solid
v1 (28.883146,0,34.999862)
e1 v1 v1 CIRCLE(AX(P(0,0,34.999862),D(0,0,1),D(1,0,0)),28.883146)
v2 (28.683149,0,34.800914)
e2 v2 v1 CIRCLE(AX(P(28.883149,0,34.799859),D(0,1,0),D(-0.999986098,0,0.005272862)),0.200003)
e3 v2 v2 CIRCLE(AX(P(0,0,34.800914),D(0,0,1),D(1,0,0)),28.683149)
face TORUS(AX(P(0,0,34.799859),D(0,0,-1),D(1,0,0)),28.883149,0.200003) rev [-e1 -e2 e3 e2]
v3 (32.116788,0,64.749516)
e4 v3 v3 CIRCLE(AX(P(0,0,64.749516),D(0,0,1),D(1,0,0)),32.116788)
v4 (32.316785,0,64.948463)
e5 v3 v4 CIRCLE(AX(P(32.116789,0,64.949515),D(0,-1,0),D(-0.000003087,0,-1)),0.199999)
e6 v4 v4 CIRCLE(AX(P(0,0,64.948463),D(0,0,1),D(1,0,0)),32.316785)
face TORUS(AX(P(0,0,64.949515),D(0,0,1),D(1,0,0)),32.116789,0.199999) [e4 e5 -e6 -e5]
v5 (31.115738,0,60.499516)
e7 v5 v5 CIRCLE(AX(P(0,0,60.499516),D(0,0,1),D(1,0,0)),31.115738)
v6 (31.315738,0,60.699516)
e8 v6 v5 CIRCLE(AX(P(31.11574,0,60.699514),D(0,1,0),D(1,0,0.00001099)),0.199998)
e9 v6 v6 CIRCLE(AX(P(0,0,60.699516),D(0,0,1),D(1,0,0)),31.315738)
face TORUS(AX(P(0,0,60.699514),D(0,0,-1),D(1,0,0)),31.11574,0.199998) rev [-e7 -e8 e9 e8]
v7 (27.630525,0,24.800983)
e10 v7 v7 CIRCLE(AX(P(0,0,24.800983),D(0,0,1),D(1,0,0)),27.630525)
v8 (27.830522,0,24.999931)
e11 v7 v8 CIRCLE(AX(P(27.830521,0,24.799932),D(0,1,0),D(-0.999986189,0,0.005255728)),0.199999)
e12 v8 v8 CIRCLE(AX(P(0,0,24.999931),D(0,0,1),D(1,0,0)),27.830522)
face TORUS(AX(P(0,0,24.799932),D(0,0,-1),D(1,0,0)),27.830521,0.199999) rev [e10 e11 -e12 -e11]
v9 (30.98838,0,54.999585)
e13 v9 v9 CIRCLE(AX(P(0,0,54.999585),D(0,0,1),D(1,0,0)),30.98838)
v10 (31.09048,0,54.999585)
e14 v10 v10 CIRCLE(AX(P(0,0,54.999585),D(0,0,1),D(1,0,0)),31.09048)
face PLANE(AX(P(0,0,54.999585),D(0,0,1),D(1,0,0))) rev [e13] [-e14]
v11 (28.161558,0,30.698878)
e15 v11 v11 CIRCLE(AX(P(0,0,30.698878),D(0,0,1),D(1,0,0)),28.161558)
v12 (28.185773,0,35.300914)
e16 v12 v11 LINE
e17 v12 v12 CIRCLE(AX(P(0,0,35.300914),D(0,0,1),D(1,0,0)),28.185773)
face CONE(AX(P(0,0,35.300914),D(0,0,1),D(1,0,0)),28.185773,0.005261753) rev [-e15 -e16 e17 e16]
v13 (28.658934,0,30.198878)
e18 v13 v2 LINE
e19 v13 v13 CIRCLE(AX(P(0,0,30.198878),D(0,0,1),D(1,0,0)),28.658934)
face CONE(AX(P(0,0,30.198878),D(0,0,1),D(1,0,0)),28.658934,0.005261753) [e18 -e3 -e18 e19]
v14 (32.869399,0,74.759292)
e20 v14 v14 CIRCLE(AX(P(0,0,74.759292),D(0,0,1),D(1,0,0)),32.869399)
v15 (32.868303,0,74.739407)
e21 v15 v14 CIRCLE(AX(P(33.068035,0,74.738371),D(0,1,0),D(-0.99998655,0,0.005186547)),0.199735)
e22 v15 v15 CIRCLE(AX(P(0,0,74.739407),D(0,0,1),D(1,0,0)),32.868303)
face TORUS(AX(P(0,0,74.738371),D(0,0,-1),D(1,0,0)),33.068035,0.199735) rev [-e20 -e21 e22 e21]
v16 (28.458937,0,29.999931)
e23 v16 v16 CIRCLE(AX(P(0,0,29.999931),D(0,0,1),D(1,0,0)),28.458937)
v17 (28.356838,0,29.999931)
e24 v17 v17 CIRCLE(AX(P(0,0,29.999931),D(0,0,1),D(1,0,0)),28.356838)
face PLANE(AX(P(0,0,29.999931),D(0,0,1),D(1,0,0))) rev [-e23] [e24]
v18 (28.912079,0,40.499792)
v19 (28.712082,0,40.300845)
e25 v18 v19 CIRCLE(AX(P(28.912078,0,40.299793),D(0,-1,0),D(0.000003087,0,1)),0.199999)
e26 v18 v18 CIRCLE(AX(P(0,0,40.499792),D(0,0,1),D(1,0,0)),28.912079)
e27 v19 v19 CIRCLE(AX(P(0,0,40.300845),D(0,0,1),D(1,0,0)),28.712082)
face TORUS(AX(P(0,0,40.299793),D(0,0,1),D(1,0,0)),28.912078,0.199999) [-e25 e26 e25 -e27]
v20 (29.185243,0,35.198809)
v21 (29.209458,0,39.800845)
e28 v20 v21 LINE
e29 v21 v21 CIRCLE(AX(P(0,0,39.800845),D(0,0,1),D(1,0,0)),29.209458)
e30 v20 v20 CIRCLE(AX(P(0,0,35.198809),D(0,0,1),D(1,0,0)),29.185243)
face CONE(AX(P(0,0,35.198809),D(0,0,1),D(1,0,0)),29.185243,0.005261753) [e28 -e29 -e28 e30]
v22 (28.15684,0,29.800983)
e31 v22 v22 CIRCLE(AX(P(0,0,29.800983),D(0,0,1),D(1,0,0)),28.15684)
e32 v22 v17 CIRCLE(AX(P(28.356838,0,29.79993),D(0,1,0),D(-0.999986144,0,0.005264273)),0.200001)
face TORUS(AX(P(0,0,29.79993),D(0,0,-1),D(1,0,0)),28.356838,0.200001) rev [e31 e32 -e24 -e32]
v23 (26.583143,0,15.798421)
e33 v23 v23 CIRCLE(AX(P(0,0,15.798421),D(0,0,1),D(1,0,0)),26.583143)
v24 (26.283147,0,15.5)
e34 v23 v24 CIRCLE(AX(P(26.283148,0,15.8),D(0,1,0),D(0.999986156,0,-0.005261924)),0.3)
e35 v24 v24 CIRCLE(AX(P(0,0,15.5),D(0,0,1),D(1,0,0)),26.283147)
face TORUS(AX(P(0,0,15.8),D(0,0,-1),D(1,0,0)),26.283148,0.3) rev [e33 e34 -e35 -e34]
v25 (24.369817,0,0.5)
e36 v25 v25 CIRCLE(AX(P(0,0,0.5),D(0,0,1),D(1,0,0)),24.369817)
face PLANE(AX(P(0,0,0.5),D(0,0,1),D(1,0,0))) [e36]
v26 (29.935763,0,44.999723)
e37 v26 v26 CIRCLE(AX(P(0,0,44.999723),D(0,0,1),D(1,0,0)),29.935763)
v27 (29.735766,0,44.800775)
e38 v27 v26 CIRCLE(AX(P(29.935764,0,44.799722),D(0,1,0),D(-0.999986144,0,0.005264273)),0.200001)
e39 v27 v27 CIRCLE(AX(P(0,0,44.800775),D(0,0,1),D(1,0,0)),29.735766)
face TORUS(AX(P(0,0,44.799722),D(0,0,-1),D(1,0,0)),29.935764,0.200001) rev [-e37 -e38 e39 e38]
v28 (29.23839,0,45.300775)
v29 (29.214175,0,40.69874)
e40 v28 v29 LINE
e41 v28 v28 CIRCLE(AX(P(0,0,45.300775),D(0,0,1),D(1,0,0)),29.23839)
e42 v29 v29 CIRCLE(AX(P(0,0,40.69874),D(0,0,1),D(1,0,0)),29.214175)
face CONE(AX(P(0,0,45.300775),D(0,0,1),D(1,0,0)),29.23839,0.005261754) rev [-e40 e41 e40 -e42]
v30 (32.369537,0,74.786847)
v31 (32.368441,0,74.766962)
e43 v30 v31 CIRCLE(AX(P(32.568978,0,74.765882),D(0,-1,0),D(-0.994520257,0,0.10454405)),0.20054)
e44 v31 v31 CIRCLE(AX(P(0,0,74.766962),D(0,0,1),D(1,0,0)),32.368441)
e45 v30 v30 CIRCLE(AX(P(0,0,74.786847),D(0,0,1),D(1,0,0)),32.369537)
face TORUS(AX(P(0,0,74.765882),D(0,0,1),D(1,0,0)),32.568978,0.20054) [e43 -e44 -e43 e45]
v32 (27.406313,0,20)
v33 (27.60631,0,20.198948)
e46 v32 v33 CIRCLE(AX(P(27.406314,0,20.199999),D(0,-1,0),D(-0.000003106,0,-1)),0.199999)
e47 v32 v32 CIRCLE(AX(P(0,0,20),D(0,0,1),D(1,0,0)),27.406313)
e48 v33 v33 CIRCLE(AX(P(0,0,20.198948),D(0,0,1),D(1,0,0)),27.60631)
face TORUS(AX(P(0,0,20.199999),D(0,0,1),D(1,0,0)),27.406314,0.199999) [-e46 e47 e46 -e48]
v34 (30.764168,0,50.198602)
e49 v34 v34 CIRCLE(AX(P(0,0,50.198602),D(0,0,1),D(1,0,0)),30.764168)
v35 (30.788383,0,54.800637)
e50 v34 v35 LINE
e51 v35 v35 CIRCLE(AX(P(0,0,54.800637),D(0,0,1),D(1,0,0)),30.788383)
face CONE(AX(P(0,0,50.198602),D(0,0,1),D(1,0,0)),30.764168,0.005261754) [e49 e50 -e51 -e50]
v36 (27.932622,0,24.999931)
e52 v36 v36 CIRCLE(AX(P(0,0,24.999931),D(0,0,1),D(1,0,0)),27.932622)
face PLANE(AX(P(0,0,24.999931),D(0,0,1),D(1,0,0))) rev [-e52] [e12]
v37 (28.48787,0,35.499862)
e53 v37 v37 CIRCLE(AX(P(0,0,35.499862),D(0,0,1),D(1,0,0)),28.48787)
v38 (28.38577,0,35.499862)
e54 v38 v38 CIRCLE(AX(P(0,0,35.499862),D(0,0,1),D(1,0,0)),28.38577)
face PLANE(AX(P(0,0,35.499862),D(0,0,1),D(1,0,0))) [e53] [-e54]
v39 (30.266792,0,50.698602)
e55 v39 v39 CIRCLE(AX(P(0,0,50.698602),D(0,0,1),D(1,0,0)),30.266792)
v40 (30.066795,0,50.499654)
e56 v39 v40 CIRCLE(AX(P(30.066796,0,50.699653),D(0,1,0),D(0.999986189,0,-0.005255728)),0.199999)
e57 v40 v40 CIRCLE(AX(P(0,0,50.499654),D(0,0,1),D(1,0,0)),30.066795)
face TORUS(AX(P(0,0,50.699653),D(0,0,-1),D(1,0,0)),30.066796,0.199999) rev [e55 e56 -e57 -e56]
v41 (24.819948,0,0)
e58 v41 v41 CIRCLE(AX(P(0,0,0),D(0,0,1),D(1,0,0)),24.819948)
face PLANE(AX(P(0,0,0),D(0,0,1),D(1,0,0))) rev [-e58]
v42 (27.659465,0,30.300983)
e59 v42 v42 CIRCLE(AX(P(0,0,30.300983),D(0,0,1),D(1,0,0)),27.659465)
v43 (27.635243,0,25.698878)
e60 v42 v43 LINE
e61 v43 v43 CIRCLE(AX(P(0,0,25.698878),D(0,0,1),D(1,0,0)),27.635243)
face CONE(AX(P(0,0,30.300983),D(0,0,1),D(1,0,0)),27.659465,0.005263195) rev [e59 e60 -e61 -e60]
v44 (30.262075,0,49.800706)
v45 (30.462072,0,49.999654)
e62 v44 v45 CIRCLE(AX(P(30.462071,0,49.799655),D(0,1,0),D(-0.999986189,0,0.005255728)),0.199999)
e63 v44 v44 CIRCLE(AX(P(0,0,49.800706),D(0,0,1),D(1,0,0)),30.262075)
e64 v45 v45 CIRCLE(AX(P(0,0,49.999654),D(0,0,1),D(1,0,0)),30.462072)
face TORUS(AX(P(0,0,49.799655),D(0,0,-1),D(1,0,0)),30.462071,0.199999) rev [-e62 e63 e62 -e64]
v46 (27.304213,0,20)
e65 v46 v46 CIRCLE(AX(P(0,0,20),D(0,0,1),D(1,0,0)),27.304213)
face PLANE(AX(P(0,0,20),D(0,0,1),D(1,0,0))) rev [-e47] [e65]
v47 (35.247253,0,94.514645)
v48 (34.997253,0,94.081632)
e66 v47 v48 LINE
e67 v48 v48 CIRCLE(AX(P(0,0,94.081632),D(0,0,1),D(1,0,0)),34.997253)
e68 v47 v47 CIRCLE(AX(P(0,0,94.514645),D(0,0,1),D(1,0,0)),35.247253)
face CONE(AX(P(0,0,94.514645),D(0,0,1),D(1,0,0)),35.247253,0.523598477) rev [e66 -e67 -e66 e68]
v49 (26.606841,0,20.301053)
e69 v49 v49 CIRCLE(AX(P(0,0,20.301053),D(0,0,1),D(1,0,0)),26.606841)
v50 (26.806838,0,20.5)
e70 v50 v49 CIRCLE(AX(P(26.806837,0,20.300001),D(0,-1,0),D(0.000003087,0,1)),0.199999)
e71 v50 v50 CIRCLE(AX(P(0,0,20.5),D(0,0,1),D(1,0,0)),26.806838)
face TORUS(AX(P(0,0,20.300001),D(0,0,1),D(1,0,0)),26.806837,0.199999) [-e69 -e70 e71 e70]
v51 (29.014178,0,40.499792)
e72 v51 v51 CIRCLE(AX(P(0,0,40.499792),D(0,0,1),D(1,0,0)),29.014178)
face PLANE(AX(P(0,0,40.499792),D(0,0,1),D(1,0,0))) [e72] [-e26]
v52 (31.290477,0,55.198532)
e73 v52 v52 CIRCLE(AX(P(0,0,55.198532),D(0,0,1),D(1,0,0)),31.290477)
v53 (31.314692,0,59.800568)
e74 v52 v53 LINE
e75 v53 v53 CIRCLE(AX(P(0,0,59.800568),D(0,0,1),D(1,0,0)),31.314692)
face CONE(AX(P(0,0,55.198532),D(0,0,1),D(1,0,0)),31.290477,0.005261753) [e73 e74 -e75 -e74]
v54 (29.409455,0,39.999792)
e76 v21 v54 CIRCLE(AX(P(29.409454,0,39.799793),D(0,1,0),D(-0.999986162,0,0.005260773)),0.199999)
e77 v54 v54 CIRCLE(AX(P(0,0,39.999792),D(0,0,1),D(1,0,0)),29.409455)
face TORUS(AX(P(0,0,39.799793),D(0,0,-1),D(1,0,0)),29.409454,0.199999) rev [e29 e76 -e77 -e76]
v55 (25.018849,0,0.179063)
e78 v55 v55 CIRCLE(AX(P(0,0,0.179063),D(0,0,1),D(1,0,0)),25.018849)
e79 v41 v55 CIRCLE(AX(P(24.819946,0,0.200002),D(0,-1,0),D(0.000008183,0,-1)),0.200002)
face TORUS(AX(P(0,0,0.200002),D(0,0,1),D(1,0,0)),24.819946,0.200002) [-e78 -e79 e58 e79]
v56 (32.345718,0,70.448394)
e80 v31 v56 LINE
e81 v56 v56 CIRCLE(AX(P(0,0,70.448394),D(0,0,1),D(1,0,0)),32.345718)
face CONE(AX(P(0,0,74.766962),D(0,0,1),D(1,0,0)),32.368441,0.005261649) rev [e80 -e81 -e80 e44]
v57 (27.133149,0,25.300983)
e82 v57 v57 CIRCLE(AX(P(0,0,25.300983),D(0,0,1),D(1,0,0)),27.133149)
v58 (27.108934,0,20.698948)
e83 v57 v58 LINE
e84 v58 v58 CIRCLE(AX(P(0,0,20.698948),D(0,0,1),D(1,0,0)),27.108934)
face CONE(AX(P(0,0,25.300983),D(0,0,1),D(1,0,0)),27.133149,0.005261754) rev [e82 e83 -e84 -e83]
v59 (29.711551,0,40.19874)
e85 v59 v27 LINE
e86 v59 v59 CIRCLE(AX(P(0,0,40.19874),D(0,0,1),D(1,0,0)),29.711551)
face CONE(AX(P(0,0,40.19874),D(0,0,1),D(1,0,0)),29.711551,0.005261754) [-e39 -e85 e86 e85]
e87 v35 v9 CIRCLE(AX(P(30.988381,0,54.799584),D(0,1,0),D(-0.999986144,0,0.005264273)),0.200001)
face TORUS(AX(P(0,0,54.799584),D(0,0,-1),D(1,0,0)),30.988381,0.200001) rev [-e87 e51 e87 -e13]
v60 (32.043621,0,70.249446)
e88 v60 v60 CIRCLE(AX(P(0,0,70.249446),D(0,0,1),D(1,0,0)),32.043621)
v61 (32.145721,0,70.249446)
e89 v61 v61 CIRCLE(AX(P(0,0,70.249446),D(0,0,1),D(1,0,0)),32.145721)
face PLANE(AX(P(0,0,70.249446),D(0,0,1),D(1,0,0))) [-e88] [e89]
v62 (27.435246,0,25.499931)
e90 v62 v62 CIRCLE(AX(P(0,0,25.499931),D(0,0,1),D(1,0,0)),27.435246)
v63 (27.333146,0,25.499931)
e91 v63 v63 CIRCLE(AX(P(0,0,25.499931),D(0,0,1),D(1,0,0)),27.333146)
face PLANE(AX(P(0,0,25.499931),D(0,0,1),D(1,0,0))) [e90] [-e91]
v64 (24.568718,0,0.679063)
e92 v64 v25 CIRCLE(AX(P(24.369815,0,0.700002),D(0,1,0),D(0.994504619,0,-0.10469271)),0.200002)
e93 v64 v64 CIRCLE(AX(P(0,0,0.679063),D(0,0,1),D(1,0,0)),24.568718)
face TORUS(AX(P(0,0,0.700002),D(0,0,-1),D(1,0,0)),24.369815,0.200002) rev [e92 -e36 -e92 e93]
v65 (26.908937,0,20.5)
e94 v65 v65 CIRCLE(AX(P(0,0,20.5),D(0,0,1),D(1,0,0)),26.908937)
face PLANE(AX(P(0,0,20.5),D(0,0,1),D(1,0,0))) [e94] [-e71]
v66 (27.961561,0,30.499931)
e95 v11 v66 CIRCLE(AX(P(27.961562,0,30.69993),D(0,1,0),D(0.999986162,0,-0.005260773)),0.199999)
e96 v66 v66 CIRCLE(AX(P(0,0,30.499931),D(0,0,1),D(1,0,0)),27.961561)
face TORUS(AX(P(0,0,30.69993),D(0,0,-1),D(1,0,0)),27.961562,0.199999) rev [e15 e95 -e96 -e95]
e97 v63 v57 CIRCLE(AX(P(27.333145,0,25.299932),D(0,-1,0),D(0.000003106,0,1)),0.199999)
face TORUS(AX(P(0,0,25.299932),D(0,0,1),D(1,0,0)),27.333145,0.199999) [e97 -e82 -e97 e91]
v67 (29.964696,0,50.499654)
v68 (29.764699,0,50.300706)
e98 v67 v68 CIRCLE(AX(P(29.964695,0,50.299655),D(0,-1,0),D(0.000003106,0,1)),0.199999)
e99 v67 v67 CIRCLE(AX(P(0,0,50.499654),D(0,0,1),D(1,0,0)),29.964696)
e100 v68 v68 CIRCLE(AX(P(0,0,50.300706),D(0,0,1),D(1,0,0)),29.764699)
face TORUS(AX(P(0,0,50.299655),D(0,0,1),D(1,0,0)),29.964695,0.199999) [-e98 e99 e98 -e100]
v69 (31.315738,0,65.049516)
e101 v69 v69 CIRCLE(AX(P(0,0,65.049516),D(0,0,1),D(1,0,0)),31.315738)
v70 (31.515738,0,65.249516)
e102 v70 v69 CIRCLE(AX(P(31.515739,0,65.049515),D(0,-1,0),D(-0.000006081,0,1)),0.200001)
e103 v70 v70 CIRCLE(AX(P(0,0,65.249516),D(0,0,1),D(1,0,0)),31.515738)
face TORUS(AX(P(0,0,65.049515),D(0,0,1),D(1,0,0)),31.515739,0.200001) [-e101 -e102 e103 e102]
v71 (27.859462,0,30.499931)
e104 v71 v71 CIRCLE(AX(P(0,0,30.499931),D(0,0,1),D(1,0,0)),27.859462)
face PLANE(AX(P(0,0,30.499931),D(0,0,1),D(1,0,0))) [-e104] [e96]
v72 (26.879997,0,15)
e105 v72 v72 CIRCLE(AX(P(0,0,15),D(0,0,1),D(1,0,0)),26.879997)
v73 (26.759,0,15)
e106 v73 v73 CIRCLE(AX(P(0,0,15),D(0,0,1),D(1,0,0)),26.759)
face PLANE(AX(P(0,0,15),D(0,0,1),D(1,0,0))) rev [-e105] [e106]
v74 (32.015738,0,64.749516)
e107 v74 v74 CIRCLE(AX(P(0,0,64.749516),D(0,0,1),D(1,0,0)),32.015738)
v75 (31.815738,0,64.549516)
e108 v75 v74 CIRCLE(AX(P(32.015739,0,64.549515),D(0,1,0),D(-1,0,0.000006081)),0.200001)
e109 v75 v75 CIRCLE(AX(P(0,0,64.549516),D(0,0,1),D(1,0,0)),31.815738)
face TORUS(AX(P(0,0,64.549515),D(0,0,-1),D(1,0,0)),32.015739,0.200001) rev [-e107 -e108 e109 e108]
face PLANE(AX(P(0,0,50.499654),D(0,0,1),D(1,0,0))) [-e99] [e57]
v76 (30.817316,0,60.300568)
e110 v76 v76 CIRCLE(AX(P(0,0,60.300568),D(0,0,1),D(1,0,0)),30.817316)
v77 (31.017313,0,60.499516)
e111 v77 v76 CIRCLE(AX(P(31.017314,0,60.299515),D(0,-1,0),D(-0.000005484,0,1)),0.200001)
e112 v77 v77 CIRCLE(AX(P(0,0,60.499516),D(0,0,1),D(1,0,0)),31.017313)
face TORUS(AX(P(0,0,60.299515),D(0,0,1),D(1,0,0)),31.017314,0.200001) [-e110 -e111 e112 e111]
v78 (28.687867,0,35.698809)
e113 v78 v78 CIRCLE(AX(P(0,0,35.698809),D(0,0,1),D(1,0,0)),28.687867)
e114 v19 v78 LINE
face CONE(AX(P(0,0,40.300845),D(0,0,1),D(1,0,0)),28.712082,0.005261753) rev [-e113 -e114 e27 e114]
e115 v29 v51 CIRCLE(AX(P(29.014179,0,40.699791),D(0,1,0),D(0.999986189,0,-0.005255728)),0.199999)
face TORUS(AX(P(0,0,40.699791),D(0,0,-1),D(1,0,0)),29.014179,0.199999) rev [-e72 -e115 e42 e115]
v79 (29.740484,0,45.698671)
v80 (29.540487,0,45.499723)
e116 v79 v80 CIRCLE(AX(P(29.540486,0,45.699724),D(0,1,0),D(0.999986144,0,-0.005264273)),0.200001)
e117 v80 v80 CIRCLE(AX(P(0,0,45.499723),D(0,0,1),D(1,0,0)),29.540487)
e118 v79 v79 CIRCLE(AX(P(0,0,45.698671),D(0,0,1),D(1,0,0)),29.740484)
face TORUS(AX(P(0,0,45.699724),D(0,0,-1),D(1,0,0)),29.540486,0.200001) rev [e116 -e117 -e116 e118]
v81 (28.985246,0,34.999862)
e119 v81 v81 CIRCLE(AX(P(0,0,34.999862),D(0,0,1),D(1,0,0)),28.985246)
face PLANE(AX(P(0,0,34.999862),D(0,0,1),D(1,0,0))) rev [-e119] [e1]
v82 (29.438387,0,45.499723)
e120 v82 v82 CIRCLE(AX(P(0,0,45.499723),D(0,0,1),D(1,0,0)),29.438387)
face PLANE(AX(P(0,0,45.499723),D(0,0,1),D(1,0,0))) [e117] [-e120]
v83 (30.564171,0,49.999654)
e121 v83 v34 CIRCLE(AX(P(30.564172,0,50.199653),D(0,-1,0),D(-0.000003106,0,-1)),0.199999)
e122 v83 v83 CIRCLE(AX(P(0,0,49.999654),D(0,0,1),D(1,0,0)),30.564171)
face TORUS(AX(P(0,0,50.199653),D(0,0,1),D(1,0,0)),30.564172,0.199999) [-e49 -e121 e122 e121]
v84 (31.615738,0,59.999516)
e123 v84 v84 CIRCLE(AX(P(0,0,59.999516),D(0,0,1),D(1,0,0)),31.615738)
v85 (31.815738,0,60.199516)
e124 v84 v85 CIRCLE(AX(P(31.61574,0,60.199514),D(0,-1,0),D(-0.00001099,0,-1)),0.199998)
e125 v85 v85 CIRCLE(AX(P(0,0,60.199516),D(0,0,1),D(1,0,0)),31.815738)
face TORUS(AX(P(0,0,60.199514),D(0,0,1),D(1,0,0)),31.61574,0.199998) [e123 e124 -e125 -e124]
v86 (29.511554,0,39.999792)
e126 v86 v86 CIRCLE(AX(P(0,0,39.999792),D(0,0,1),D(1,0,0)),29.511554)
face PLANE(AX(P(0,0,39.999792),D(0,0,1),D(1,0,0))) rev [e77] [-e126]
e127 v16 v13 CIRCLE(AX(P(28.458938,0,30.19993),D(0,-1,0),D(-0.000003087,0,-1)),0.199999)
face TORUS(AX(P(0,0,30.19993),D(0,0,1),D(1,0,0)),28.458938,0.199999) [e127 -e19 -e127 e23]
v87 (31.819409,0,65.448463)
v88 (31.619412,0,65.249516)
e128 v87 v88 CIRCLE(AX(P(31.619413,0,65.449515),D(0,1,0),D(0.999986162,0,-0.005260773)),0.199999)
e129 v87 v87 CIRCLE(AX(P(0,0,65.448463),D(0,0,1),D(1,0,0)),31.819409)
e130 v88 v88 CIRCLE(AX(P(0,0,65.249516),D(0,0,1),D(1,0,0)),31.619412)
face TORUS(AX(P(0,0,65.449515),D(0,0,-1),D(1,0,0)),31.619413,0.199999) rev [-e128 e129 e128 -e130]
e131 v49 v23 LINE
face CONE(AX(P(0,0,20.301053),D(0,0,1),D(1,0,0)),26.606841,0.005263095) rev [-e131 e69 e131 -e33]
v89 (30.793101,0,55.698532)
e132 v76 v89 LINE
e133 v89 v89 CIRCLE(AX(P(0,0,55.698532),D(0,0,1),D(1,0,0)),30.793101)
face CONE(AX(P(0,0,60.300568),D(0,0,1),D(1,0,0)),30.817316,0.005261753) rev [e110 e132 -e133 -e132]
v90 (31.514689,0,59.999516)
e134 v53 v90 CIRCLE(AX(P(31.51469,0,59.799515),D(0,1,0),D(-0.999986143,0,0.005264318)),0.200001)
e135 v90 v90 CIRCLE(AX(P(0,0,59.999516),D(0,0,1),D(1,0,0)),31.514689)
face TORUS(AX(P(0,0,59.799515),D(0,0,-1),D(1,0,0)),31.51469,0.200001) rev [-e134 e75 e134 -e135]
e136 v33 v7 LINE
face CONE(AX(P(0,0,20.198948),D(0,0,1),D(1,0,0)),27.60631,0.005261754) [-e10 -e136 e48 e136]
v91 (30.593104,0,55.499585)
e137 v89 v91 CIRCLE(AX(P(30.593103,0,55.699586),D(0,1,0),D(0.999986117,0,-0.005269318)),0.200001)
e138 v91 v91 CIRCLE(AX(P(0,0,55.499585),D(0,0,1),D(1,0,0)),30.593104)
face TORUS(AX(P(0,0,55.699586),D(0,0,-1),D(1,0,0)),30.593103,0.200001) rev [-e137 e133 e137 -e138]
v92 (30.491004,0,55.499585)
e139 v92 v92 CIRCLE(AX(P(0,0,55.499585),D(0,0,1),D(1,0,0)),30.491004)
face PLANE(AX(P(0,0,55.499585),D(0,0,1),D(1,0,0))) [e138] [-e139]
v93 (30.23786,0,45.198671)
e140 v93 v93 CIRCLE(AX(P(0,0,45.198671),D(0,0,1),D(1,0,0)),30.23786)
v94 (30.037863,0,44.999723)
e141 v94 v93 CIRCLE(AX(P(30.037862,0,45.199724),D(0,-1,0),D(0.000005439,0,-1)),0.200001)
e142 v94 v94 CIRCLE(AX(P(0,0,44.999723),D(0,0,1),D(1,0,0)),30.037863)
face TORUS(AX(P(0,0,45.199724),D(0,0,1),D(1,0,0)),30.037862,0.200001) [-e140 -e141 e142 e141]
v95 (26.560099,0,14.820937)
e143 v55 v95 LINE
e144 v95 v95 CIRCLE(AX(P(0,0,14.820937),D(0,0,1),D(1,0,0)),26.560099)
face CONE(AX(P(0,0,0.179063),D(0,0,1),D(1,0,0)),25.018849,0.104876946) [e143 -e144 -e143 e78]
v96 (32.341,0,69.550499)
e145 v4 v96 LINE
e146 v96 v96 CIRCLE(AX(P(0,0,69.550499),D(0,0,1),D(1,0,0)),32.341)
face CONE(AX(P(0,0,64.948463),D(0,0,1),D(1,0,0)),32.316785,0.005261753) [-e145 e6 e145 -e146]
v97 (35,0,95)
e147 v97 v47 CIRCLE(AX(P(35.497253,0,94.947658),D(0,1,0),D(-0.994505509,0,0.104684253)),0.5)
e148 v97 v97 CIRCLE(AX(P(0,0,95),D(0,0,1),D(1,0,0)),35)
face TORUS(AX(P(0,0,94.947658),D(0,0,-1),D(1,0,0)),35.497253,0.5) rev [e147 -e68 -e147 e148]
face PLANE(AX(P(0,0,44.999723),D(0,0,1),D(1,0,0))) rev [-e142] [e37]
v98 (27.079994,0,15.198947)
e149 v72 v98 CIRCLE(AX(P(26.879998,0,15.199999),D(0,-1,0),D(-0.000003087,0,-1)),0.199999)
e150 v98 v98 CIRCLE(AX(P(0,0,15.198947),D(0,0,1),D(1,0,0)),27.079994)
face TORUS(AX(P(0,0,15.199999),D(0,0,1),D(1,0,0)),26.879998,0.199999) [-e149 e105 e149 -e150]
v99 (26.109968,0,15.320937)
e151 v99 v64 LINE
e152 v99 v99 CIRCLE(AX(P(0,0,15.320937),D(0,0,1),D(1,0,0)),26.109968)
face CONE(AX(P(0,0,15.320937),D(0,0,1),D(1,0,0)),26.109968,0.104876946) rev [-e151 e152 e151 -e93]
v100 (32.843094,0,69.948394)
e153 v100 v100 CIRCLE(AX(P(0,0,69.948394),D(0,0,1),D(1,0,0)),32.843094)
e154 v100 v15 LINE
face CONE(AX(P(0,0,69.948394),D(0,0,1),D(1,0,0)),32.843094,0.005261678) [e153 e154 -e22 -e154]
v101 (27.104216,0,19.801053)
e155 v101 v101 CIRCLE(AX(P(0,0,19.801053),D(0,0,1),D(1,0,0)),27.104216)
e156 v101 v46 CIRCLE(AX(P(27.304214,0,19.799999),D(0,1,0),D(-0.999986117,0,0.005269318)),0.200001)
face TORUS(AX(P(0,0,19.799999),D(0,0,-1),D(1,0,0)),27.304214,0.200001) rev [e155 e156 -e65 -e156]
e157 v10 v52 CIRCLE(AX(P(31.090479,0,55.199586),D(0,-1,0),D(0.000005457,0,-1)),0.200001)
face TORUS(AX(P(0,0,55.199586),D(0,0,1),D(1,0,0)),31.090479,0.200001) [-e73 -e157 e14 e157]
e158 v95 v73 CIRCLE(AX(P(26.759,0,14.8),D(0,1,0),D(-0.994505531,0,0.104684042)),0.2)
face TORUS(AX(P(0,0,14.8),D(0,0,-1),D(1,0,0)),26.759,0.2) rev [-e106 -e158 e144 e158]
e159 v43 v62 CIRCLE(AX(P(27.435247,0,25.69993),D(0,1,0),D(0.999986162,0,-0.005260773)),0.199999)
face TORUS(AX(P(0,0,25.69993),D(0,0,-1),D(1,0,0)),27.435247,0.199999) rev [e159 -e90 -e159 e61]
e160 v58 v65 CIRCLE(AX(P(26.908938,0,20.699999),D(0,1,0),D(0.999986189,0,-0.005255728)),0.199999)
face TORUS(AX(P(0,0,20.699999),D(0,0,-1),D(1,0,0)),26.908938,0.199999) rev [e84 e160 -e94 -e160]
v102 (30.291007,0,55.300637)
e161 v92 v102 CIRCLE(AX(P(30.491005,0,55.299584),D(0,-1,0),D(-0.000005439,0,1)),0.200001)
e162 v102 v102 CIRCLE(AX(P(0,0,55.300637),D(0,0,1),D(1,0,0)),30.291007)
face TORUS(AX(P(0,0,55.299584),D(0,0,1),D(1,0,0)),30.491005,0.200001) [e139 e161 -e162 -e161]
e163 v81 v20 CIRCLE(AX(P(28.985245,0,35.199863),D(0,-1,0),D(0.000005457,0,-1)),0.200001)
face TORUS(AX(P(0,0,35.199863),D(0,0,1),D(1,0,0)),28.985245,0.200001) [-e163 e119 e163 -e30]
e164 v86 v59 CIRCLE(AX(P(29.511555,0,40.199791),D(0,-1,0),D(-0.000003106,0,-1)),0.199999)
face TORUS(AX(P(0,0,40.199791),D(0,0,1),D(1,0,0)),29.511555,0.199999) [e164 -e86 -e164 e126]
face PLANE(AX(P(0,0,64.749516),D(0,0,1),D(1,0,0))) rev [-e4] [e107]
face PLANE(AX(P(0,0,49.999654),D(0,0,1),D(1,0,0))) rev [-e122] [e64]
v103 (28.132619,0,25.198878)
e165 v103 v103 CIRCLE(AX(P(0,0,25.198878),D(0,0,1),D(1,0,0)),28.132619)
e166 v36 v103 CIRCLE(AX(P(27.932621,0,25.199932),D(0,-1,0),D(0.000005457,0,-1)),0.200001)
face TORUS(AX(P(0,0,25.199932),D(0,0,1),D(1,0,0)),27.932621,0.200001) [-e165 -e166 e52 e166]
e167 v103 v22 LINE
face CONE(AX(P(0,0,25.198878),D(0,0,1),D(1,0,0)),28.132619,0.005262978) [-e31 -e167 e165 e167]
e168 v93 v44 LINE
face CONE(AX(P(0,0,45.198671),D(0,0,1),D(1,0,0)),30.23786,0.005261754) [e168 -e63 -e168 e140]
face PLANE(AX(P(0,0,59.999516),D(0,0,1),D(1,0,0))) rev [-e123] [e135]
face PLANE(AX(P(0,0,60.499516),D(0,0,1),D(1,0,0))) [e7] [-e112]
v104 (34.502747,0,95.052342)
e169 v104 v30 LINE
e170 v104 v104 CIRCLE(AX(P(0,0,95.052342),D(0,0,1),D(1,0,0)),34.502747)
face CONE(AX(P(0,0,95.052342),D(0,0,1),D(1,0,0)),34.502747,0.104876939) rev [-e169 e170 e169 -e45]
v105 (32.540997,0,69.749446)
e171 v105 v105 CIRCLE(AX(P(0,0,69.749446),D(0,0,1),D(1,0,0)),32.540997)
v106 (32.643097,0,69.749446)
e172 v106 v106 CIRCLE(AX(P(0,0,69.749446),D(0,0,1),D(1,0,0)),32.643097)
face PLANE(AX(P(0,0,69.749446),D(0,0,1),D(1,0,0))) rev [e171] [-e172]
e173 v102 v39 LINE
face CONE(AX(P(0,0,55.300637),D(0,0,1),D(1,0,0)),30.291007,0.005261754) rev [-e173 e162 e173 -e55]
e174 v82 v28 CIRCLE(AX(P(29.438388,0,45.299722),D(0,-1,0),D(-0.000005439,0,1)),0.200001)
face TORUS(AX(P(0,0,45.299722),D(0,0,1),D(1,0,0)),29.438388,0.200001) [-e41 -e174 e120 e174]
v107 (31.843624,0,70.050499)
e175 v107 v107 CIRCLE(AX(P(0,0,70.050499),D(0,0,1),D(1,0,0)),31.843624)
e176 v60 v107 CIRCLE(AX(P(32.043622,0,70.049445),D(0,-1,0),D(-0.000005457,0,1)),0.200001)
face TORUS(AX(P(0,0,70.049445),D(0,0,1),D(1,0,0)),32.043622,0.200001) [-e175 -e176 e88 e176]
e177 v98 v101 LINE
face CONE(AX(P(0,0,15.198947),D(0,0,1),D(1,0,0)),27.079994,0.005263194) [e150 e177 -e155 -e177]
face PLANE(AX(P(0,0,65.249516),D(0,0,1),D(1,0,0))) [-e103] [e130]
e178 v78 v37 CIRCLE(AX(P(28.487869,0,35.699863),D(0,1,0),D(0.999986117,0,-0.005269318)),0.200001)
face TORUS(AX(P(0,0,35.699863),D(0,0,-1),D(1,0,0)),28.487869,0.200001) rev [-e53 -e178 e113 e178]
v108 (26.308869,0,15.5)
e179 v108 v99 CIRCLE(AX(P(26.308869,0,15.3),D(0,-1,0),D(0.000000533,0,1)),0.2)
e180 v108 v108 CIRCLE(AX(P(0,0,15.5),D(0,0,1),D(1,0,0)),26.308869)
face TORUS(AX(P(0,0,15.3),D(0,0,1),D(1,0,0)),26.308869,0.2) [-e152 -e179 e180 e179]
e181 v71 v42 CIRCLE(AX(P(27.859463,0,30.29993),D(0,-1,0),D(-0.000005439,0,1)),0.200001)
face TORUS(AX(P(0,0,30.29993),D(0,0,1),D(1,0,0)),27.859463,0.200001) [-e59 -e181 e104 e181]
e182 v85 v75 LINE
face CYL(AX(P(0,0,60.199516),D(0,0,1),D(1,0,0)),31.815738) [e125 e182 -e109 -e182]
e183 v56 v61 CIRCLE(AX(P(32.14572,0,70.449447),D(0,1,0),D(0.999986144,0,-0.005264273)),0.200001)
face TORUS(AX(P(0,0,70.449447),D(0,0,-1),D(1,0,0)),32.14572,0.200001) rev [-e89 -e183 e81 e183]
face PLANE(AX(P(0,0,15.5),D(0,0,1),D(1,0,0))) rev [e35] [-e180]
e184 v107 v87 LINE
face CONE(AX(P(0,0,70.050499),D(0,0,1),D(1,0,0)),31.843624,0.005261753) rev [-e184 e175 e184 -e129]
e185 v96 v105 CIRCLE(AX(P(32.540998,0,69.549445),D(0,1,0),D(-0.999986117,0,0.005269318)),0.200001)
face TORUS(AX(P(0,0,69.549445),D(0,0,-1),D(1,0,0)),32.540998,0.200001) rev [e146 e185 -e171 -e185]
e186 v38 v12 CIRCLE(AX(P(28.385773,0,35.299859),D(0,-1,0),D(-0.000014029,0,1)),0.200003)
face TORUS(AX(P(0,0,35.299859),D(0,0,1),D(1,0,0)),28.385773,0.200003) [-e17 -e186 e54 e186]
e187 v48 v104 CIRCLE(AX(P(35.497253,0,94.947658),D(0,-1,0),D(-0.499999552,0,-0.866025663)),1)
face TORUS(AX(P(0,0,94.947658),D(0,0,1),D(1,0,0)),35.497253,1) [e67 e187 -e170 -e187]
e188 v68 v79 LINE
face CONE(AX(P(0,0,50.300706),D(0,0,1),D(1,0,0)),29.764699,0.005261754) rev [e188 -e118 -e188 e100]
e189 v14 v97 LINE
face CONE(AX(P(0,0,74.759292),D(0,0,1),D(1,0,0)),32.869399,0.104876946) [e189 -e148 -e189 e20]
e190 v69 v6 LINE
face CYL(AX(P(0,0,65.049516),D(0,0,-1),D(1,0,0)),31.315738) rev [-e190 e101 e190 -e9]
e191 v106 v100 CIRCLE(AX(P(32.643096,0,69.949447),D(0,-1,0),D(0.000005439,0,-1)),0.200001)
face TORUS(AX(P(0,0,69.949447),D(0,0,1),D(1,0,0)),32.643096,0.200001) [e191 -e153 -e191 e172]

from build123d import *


with BuildPart() as f1:
    # F0 (on Front) → F1 (revolve)
    with BuildSketch(Plane.XZ):
        with BuildLine():
            Line((0, 0.5), (0, 0))
            Line((0, 0), (24.819948, 0))
            ThreePointArc((24.819948, 0), (24.953762, 0.051361), (25.018849, 0.179063))
            Line((25.018849, 0.179063), (26.560099, 14.820937))
            ThreePointArc((26.560099, 14.820937), (26.625185, 14.948639), (26.759, 15))
            Line((26.759, 15), (26.879997, 15))
            ThreePointArc((26.879997, 15), (27.021046, 15.058207), (27.079994, 15.198947))
            Line((27.079994, 15.198947), (27.104216, 19.801053))
            ThreePointArc((27.104216, 19.801053), (27.163165, 19.941793), (27.304213, 20))
            Line((27.304213, 20), (27.406313, 20))
            ThreePointArc((27.406313, 20), (27.547362, 20.058207), (27.60631, 20.198948))
            Line((27.60631, 20.198948), (27.630525, 24.800983))
            ThreePointArc((27.630525, 24.800983), (27.689473, 24.941724), (27.830522, 24.999931))
            Line((27.830522, 24.999931), (27.932622, 24.999931))
            ThreePointArc((27.932622, 24.999931), (28.07367, 25.058138), (28.132619, 25.198878))
            Line((28.132619, 25.198878), (28.15684, 29.800983))
            ThreePointArc((28.15684, 29.800983), (28.215789, 29.941724), (28.356838, 29.999931))
            Line((28.356838, 29.999931), (28.458937, 29.999931))
            ThreePointArc((28.458937, 29.999931), (28.599986, 30.058138), (28.658934, 30.198878))
            Line((28.658934, 30.198878), (28.683149, 34.800914))
            ThreePointArc((28.683149, 34.800914), (28.742098, 34.941654), (28.883146, 34.999862))
            Line((28.883146, 34.999862), (28.985246, 34.999862))
            ThreePointArc((28.985246, 34.999862), (29.126294, 35.058069), (29.185243, 35.198809))
            Line((29.185243, 35.198809), (29.209458, 39.800845))
            ThreePointArc((29.209458, 39.800845), (29.268406, 39.941585), (29.409455, 39.999792))
            Line((29.409455, 39.999792), (29.511554, 39.999792))
            ThreePointArc((29.511554, 39.999792), (29.652603, 40.057999), (29.711551, 40.19874))
            Line((29.711551, 40.19874), (29.735766, 44.800775))
            ThreePointArc((29.735766, 44.800775), (29.794715, 44.941516), (29.935763, 44.999723))
            Line((29.935763, 44.999723), (30.037863, 44.999723))
            ThreePointArc((30.037863, 44.999723), (30.178911, 45.05793), (30.23786, 45.198671))
            Line((30.23786, 45.198671), (30.262075, 49.800706))
            ThreePointArc((30.262075, 49.800706), (30.321023, 49.941447), (30.462072, 49.999654))
            Line((30.462072, 49.999654), (30.564171, 49.999654))
            ThreePointArc((30.564171, 49.999654), (30.70522, 50.057861), (30.764168, 50.198602))
            Line((30.764168, 50.198602), (30.788383, 54.800637))
            ThreePointArc((30.788383, 54.800637), (30.847332, 54.941378), (30.98838, 54.999585))
            Line((30.98838, 54.999585), (31.09048, 54.999585))
            ThreePointArc((31.09048, 54.999585), (31.231528, 55.057792), (31.290477, 55.198532))
            Line((31.290477, 55.198532), (31.314692, 59.800568))
            ThreePointArc((31.314692, 59.800568), (31.37364, 59.941308), (31.514689, 59.999516))
            Line((31.514689, 59.999516), (31.615738, 59.999516))
            ThreePointArc((31.615738, 59.999516), (31.75716, 60.058094), (31.815738, 60.199516))
            Line((31.815738, 60.199516), (31.815738, 64.549516))
            ThreePointArc((31.815738, 64.549516), (31.874317, 64.690937), (32.015738, 64.749516))
            Line((32.015738, 64.749516), (32.116788, 64.749516))
            ThreePointArc((32.116788, 64.749516), (32.257837, 64.807723), (32.316785, 64.948463))
            Line((32.316785, 64.948463), (32.341, 69.550499))
            ThreePointArc((32.341, 69.550499), (32.399949, 69.691239), (32.540997, 69.749446))
            Line((32.540997, 69.749446), (32.643097, 69.749446))
            ThreePointArc((32.643097, 69.749446), (32.784145, 69.807653), (32.843094, 69.948394))
            Line((32.843094, 69.948394), (32.868303, 74.739407))
            ThreePointArc((32.868303, 74.739407), (32.868603, 74.749363), (32.869399, 74.759292))
            Line((32.869399, 74.759292), (35, 95))
            ThreePointArc((35, 95), (35.942774, 95.174618), (35.247253, 94.514645))
            Line((35.247253, 94.514645), (34.997253, 94.081632))
            ThreePointArc((34.997253, 94.081632), (36.388295, 95.401578), (34.502747, 95.052342))
            Line((34.502747, 95.052342), (32.369537, 74.786847))
            ThreePointArc((32.369537, 74.786847), (32.368742, 74.776918), (32.368441, 74.766962))
            Line((32.368441, 74.766962), (32.345718, 70.448394))
            ThreePointArc((32.345718, 70.448394), (32.286769, 70.307653), (32.145721, 70.249446))
            Line((32.145721, 70.249446), (32.043621, 70.249446))
            ThreePointArc((32.043621, 70.249446), (31.902573, 70.191239), (31.843624, 70.050499))
            Line((31.843624, 70.050499), (31.819409, 65.448463))
            ThreePointArc((31.819409, 65.448463), (31.760461, 65.307723), (31.619412, 65.249516))
            Line((31.619412, 65.249516), (31.515738, 65.249516))
            ThreePointArc((31.515738, 65.249516), (31.374317, 65.190937), (31.315738, 65.049516))
            Line((31.315738, 65.049516), (31.315738, 60.699516))
            ThreePointArc((31.315738, 60.699516), (31.25716, 60.558094), (31.115738, 60.499516))
            Line((31.115738, 60.499516), (31.017313, 60.499516))
            ThreePointArc((31.017313, 60.499516), (30.876264, 60.441308), (30.817316, 60.300568))
            Line((30.817316, 60.300568), (30.793101, 55.698532))
            ThreePointArc((30.793101, 55.698532), (30.734152, 55.557792), (30.593104, 55.499585))
            Line((30.593104, 55.499585), (30.491004, 55.499585))
            ThreePointArc((30.491004, 55.499585), (30.349956, 55.441378), (30.291007, 55.300637))
            Line((30.291007, 55.300637), (30.266792, 50.698602))
            ThreePointArc((30.266792, 50.698602), (30.207844, 50.557861), (30.066795, 50.499654))
            Line((30.066795, 50.499654), (29.964696, 50.499654))
            ThreePointArc((29.964696, 50.499654), (29.823647, 50.441447), (29.764699, 50.300706))
            Line((29.764699, 50.300706), (29.740484, 45.698671))
            ThreePointArc((29.740484, 45.698671), (29.681535, 45.55793), (29.540487, 45.499723))
            Line((29.540487, 45.499723), (29.438387, 45.499723))
            ThreePointArc((29.438387, 45.499723), (29.297339, 45.441516), (29.23839, 45.300775))
            Line((29.23839, 45.300775), (29.214175, 40.69874))
            ThreePointArc((29.214175, 40.69874), (29.155227, 40.557999), (29.014178, 40.499792))
            Line((29.014178, 40.499792), (28.912079, 40.499792))
            ThreePointArc((28.912079, 40.499792), (28.77103, 40.441585), (28.712082, 40.300845))
            Line((28.712082, 40.300845), (28.687867, 35.698809))
            ThreePointArc((28.687867, 35.698809), (28.628918, 35.558069), (28.48787, 35.499862))
            Line((28.48787, 35.499862), (28.38577, 35.499862))
            ThreePointArc((28.38577, 35.499862), (28.244722, 35.441654), (28.185773, 35.300914))
            Line((28.185773, 35.300914), (28.161558, 30.698878))
            ThreePointArc((28.161558, 30.698878), (28.10261, 30.558138), (27.961561, 30.499931))
            Line((27.961561, 30.499931), (27.859462, 30.499931))
            ThreePointArc((27.859462, 30.499931), (27.718414, 30.441724), (27.659465, 30.300983))
            Line((27.659465, 30.300983), (27.635243, 25.698878))
            ThreePointArc((27.635243, 25.698878), (27.576295, 25.558138), (27.435246, 25.499931))
            Line((27.435246, 25.499931), (27.333146, 25.499931))
            ThreePointArc((27.333146, 25.499931), (27.192097, 25.441724), (27.133149, 25.300983))
            Line((27.133149, 25.300983), (27.108934, 20.698948))
            ThreePointArc((27.108934, 20.698948), (27.049986, 20.558207), (26.908937, 20.5))
            Line((26.908937, 20.5), (26.806838, 20.5))
            ThreePointArc((26.806838, 20.5), (26.665789, 20.441793), (26.606841, 20.301053))
            Line((26.606841, 20.301053), (26.583143, 15.798421))
            ThreePointArc((26.583143, 15.798421), (26.49472, 15.58731), (26.283147, 15.5))
            Line((26.283147, 15.5), (26.308869, 15.5))
            ThreePointArc((26.308869, 15.5), (26.175054, 15.448639), (26.109968, 15.320937))
            Line((26.109968, 15.320937), (24.568718, 0.679063))
            ThreePointArc((24.568718, 0.679063), (24.503631, 0.551361), (24.369817, 0.5))
            Line((24.369817, 0.5), (0, 0.5))
        make_face()
    revolve(axis=Axis((0, 0, 37.334799), (0, 0, 1)))


solid = f1.part
